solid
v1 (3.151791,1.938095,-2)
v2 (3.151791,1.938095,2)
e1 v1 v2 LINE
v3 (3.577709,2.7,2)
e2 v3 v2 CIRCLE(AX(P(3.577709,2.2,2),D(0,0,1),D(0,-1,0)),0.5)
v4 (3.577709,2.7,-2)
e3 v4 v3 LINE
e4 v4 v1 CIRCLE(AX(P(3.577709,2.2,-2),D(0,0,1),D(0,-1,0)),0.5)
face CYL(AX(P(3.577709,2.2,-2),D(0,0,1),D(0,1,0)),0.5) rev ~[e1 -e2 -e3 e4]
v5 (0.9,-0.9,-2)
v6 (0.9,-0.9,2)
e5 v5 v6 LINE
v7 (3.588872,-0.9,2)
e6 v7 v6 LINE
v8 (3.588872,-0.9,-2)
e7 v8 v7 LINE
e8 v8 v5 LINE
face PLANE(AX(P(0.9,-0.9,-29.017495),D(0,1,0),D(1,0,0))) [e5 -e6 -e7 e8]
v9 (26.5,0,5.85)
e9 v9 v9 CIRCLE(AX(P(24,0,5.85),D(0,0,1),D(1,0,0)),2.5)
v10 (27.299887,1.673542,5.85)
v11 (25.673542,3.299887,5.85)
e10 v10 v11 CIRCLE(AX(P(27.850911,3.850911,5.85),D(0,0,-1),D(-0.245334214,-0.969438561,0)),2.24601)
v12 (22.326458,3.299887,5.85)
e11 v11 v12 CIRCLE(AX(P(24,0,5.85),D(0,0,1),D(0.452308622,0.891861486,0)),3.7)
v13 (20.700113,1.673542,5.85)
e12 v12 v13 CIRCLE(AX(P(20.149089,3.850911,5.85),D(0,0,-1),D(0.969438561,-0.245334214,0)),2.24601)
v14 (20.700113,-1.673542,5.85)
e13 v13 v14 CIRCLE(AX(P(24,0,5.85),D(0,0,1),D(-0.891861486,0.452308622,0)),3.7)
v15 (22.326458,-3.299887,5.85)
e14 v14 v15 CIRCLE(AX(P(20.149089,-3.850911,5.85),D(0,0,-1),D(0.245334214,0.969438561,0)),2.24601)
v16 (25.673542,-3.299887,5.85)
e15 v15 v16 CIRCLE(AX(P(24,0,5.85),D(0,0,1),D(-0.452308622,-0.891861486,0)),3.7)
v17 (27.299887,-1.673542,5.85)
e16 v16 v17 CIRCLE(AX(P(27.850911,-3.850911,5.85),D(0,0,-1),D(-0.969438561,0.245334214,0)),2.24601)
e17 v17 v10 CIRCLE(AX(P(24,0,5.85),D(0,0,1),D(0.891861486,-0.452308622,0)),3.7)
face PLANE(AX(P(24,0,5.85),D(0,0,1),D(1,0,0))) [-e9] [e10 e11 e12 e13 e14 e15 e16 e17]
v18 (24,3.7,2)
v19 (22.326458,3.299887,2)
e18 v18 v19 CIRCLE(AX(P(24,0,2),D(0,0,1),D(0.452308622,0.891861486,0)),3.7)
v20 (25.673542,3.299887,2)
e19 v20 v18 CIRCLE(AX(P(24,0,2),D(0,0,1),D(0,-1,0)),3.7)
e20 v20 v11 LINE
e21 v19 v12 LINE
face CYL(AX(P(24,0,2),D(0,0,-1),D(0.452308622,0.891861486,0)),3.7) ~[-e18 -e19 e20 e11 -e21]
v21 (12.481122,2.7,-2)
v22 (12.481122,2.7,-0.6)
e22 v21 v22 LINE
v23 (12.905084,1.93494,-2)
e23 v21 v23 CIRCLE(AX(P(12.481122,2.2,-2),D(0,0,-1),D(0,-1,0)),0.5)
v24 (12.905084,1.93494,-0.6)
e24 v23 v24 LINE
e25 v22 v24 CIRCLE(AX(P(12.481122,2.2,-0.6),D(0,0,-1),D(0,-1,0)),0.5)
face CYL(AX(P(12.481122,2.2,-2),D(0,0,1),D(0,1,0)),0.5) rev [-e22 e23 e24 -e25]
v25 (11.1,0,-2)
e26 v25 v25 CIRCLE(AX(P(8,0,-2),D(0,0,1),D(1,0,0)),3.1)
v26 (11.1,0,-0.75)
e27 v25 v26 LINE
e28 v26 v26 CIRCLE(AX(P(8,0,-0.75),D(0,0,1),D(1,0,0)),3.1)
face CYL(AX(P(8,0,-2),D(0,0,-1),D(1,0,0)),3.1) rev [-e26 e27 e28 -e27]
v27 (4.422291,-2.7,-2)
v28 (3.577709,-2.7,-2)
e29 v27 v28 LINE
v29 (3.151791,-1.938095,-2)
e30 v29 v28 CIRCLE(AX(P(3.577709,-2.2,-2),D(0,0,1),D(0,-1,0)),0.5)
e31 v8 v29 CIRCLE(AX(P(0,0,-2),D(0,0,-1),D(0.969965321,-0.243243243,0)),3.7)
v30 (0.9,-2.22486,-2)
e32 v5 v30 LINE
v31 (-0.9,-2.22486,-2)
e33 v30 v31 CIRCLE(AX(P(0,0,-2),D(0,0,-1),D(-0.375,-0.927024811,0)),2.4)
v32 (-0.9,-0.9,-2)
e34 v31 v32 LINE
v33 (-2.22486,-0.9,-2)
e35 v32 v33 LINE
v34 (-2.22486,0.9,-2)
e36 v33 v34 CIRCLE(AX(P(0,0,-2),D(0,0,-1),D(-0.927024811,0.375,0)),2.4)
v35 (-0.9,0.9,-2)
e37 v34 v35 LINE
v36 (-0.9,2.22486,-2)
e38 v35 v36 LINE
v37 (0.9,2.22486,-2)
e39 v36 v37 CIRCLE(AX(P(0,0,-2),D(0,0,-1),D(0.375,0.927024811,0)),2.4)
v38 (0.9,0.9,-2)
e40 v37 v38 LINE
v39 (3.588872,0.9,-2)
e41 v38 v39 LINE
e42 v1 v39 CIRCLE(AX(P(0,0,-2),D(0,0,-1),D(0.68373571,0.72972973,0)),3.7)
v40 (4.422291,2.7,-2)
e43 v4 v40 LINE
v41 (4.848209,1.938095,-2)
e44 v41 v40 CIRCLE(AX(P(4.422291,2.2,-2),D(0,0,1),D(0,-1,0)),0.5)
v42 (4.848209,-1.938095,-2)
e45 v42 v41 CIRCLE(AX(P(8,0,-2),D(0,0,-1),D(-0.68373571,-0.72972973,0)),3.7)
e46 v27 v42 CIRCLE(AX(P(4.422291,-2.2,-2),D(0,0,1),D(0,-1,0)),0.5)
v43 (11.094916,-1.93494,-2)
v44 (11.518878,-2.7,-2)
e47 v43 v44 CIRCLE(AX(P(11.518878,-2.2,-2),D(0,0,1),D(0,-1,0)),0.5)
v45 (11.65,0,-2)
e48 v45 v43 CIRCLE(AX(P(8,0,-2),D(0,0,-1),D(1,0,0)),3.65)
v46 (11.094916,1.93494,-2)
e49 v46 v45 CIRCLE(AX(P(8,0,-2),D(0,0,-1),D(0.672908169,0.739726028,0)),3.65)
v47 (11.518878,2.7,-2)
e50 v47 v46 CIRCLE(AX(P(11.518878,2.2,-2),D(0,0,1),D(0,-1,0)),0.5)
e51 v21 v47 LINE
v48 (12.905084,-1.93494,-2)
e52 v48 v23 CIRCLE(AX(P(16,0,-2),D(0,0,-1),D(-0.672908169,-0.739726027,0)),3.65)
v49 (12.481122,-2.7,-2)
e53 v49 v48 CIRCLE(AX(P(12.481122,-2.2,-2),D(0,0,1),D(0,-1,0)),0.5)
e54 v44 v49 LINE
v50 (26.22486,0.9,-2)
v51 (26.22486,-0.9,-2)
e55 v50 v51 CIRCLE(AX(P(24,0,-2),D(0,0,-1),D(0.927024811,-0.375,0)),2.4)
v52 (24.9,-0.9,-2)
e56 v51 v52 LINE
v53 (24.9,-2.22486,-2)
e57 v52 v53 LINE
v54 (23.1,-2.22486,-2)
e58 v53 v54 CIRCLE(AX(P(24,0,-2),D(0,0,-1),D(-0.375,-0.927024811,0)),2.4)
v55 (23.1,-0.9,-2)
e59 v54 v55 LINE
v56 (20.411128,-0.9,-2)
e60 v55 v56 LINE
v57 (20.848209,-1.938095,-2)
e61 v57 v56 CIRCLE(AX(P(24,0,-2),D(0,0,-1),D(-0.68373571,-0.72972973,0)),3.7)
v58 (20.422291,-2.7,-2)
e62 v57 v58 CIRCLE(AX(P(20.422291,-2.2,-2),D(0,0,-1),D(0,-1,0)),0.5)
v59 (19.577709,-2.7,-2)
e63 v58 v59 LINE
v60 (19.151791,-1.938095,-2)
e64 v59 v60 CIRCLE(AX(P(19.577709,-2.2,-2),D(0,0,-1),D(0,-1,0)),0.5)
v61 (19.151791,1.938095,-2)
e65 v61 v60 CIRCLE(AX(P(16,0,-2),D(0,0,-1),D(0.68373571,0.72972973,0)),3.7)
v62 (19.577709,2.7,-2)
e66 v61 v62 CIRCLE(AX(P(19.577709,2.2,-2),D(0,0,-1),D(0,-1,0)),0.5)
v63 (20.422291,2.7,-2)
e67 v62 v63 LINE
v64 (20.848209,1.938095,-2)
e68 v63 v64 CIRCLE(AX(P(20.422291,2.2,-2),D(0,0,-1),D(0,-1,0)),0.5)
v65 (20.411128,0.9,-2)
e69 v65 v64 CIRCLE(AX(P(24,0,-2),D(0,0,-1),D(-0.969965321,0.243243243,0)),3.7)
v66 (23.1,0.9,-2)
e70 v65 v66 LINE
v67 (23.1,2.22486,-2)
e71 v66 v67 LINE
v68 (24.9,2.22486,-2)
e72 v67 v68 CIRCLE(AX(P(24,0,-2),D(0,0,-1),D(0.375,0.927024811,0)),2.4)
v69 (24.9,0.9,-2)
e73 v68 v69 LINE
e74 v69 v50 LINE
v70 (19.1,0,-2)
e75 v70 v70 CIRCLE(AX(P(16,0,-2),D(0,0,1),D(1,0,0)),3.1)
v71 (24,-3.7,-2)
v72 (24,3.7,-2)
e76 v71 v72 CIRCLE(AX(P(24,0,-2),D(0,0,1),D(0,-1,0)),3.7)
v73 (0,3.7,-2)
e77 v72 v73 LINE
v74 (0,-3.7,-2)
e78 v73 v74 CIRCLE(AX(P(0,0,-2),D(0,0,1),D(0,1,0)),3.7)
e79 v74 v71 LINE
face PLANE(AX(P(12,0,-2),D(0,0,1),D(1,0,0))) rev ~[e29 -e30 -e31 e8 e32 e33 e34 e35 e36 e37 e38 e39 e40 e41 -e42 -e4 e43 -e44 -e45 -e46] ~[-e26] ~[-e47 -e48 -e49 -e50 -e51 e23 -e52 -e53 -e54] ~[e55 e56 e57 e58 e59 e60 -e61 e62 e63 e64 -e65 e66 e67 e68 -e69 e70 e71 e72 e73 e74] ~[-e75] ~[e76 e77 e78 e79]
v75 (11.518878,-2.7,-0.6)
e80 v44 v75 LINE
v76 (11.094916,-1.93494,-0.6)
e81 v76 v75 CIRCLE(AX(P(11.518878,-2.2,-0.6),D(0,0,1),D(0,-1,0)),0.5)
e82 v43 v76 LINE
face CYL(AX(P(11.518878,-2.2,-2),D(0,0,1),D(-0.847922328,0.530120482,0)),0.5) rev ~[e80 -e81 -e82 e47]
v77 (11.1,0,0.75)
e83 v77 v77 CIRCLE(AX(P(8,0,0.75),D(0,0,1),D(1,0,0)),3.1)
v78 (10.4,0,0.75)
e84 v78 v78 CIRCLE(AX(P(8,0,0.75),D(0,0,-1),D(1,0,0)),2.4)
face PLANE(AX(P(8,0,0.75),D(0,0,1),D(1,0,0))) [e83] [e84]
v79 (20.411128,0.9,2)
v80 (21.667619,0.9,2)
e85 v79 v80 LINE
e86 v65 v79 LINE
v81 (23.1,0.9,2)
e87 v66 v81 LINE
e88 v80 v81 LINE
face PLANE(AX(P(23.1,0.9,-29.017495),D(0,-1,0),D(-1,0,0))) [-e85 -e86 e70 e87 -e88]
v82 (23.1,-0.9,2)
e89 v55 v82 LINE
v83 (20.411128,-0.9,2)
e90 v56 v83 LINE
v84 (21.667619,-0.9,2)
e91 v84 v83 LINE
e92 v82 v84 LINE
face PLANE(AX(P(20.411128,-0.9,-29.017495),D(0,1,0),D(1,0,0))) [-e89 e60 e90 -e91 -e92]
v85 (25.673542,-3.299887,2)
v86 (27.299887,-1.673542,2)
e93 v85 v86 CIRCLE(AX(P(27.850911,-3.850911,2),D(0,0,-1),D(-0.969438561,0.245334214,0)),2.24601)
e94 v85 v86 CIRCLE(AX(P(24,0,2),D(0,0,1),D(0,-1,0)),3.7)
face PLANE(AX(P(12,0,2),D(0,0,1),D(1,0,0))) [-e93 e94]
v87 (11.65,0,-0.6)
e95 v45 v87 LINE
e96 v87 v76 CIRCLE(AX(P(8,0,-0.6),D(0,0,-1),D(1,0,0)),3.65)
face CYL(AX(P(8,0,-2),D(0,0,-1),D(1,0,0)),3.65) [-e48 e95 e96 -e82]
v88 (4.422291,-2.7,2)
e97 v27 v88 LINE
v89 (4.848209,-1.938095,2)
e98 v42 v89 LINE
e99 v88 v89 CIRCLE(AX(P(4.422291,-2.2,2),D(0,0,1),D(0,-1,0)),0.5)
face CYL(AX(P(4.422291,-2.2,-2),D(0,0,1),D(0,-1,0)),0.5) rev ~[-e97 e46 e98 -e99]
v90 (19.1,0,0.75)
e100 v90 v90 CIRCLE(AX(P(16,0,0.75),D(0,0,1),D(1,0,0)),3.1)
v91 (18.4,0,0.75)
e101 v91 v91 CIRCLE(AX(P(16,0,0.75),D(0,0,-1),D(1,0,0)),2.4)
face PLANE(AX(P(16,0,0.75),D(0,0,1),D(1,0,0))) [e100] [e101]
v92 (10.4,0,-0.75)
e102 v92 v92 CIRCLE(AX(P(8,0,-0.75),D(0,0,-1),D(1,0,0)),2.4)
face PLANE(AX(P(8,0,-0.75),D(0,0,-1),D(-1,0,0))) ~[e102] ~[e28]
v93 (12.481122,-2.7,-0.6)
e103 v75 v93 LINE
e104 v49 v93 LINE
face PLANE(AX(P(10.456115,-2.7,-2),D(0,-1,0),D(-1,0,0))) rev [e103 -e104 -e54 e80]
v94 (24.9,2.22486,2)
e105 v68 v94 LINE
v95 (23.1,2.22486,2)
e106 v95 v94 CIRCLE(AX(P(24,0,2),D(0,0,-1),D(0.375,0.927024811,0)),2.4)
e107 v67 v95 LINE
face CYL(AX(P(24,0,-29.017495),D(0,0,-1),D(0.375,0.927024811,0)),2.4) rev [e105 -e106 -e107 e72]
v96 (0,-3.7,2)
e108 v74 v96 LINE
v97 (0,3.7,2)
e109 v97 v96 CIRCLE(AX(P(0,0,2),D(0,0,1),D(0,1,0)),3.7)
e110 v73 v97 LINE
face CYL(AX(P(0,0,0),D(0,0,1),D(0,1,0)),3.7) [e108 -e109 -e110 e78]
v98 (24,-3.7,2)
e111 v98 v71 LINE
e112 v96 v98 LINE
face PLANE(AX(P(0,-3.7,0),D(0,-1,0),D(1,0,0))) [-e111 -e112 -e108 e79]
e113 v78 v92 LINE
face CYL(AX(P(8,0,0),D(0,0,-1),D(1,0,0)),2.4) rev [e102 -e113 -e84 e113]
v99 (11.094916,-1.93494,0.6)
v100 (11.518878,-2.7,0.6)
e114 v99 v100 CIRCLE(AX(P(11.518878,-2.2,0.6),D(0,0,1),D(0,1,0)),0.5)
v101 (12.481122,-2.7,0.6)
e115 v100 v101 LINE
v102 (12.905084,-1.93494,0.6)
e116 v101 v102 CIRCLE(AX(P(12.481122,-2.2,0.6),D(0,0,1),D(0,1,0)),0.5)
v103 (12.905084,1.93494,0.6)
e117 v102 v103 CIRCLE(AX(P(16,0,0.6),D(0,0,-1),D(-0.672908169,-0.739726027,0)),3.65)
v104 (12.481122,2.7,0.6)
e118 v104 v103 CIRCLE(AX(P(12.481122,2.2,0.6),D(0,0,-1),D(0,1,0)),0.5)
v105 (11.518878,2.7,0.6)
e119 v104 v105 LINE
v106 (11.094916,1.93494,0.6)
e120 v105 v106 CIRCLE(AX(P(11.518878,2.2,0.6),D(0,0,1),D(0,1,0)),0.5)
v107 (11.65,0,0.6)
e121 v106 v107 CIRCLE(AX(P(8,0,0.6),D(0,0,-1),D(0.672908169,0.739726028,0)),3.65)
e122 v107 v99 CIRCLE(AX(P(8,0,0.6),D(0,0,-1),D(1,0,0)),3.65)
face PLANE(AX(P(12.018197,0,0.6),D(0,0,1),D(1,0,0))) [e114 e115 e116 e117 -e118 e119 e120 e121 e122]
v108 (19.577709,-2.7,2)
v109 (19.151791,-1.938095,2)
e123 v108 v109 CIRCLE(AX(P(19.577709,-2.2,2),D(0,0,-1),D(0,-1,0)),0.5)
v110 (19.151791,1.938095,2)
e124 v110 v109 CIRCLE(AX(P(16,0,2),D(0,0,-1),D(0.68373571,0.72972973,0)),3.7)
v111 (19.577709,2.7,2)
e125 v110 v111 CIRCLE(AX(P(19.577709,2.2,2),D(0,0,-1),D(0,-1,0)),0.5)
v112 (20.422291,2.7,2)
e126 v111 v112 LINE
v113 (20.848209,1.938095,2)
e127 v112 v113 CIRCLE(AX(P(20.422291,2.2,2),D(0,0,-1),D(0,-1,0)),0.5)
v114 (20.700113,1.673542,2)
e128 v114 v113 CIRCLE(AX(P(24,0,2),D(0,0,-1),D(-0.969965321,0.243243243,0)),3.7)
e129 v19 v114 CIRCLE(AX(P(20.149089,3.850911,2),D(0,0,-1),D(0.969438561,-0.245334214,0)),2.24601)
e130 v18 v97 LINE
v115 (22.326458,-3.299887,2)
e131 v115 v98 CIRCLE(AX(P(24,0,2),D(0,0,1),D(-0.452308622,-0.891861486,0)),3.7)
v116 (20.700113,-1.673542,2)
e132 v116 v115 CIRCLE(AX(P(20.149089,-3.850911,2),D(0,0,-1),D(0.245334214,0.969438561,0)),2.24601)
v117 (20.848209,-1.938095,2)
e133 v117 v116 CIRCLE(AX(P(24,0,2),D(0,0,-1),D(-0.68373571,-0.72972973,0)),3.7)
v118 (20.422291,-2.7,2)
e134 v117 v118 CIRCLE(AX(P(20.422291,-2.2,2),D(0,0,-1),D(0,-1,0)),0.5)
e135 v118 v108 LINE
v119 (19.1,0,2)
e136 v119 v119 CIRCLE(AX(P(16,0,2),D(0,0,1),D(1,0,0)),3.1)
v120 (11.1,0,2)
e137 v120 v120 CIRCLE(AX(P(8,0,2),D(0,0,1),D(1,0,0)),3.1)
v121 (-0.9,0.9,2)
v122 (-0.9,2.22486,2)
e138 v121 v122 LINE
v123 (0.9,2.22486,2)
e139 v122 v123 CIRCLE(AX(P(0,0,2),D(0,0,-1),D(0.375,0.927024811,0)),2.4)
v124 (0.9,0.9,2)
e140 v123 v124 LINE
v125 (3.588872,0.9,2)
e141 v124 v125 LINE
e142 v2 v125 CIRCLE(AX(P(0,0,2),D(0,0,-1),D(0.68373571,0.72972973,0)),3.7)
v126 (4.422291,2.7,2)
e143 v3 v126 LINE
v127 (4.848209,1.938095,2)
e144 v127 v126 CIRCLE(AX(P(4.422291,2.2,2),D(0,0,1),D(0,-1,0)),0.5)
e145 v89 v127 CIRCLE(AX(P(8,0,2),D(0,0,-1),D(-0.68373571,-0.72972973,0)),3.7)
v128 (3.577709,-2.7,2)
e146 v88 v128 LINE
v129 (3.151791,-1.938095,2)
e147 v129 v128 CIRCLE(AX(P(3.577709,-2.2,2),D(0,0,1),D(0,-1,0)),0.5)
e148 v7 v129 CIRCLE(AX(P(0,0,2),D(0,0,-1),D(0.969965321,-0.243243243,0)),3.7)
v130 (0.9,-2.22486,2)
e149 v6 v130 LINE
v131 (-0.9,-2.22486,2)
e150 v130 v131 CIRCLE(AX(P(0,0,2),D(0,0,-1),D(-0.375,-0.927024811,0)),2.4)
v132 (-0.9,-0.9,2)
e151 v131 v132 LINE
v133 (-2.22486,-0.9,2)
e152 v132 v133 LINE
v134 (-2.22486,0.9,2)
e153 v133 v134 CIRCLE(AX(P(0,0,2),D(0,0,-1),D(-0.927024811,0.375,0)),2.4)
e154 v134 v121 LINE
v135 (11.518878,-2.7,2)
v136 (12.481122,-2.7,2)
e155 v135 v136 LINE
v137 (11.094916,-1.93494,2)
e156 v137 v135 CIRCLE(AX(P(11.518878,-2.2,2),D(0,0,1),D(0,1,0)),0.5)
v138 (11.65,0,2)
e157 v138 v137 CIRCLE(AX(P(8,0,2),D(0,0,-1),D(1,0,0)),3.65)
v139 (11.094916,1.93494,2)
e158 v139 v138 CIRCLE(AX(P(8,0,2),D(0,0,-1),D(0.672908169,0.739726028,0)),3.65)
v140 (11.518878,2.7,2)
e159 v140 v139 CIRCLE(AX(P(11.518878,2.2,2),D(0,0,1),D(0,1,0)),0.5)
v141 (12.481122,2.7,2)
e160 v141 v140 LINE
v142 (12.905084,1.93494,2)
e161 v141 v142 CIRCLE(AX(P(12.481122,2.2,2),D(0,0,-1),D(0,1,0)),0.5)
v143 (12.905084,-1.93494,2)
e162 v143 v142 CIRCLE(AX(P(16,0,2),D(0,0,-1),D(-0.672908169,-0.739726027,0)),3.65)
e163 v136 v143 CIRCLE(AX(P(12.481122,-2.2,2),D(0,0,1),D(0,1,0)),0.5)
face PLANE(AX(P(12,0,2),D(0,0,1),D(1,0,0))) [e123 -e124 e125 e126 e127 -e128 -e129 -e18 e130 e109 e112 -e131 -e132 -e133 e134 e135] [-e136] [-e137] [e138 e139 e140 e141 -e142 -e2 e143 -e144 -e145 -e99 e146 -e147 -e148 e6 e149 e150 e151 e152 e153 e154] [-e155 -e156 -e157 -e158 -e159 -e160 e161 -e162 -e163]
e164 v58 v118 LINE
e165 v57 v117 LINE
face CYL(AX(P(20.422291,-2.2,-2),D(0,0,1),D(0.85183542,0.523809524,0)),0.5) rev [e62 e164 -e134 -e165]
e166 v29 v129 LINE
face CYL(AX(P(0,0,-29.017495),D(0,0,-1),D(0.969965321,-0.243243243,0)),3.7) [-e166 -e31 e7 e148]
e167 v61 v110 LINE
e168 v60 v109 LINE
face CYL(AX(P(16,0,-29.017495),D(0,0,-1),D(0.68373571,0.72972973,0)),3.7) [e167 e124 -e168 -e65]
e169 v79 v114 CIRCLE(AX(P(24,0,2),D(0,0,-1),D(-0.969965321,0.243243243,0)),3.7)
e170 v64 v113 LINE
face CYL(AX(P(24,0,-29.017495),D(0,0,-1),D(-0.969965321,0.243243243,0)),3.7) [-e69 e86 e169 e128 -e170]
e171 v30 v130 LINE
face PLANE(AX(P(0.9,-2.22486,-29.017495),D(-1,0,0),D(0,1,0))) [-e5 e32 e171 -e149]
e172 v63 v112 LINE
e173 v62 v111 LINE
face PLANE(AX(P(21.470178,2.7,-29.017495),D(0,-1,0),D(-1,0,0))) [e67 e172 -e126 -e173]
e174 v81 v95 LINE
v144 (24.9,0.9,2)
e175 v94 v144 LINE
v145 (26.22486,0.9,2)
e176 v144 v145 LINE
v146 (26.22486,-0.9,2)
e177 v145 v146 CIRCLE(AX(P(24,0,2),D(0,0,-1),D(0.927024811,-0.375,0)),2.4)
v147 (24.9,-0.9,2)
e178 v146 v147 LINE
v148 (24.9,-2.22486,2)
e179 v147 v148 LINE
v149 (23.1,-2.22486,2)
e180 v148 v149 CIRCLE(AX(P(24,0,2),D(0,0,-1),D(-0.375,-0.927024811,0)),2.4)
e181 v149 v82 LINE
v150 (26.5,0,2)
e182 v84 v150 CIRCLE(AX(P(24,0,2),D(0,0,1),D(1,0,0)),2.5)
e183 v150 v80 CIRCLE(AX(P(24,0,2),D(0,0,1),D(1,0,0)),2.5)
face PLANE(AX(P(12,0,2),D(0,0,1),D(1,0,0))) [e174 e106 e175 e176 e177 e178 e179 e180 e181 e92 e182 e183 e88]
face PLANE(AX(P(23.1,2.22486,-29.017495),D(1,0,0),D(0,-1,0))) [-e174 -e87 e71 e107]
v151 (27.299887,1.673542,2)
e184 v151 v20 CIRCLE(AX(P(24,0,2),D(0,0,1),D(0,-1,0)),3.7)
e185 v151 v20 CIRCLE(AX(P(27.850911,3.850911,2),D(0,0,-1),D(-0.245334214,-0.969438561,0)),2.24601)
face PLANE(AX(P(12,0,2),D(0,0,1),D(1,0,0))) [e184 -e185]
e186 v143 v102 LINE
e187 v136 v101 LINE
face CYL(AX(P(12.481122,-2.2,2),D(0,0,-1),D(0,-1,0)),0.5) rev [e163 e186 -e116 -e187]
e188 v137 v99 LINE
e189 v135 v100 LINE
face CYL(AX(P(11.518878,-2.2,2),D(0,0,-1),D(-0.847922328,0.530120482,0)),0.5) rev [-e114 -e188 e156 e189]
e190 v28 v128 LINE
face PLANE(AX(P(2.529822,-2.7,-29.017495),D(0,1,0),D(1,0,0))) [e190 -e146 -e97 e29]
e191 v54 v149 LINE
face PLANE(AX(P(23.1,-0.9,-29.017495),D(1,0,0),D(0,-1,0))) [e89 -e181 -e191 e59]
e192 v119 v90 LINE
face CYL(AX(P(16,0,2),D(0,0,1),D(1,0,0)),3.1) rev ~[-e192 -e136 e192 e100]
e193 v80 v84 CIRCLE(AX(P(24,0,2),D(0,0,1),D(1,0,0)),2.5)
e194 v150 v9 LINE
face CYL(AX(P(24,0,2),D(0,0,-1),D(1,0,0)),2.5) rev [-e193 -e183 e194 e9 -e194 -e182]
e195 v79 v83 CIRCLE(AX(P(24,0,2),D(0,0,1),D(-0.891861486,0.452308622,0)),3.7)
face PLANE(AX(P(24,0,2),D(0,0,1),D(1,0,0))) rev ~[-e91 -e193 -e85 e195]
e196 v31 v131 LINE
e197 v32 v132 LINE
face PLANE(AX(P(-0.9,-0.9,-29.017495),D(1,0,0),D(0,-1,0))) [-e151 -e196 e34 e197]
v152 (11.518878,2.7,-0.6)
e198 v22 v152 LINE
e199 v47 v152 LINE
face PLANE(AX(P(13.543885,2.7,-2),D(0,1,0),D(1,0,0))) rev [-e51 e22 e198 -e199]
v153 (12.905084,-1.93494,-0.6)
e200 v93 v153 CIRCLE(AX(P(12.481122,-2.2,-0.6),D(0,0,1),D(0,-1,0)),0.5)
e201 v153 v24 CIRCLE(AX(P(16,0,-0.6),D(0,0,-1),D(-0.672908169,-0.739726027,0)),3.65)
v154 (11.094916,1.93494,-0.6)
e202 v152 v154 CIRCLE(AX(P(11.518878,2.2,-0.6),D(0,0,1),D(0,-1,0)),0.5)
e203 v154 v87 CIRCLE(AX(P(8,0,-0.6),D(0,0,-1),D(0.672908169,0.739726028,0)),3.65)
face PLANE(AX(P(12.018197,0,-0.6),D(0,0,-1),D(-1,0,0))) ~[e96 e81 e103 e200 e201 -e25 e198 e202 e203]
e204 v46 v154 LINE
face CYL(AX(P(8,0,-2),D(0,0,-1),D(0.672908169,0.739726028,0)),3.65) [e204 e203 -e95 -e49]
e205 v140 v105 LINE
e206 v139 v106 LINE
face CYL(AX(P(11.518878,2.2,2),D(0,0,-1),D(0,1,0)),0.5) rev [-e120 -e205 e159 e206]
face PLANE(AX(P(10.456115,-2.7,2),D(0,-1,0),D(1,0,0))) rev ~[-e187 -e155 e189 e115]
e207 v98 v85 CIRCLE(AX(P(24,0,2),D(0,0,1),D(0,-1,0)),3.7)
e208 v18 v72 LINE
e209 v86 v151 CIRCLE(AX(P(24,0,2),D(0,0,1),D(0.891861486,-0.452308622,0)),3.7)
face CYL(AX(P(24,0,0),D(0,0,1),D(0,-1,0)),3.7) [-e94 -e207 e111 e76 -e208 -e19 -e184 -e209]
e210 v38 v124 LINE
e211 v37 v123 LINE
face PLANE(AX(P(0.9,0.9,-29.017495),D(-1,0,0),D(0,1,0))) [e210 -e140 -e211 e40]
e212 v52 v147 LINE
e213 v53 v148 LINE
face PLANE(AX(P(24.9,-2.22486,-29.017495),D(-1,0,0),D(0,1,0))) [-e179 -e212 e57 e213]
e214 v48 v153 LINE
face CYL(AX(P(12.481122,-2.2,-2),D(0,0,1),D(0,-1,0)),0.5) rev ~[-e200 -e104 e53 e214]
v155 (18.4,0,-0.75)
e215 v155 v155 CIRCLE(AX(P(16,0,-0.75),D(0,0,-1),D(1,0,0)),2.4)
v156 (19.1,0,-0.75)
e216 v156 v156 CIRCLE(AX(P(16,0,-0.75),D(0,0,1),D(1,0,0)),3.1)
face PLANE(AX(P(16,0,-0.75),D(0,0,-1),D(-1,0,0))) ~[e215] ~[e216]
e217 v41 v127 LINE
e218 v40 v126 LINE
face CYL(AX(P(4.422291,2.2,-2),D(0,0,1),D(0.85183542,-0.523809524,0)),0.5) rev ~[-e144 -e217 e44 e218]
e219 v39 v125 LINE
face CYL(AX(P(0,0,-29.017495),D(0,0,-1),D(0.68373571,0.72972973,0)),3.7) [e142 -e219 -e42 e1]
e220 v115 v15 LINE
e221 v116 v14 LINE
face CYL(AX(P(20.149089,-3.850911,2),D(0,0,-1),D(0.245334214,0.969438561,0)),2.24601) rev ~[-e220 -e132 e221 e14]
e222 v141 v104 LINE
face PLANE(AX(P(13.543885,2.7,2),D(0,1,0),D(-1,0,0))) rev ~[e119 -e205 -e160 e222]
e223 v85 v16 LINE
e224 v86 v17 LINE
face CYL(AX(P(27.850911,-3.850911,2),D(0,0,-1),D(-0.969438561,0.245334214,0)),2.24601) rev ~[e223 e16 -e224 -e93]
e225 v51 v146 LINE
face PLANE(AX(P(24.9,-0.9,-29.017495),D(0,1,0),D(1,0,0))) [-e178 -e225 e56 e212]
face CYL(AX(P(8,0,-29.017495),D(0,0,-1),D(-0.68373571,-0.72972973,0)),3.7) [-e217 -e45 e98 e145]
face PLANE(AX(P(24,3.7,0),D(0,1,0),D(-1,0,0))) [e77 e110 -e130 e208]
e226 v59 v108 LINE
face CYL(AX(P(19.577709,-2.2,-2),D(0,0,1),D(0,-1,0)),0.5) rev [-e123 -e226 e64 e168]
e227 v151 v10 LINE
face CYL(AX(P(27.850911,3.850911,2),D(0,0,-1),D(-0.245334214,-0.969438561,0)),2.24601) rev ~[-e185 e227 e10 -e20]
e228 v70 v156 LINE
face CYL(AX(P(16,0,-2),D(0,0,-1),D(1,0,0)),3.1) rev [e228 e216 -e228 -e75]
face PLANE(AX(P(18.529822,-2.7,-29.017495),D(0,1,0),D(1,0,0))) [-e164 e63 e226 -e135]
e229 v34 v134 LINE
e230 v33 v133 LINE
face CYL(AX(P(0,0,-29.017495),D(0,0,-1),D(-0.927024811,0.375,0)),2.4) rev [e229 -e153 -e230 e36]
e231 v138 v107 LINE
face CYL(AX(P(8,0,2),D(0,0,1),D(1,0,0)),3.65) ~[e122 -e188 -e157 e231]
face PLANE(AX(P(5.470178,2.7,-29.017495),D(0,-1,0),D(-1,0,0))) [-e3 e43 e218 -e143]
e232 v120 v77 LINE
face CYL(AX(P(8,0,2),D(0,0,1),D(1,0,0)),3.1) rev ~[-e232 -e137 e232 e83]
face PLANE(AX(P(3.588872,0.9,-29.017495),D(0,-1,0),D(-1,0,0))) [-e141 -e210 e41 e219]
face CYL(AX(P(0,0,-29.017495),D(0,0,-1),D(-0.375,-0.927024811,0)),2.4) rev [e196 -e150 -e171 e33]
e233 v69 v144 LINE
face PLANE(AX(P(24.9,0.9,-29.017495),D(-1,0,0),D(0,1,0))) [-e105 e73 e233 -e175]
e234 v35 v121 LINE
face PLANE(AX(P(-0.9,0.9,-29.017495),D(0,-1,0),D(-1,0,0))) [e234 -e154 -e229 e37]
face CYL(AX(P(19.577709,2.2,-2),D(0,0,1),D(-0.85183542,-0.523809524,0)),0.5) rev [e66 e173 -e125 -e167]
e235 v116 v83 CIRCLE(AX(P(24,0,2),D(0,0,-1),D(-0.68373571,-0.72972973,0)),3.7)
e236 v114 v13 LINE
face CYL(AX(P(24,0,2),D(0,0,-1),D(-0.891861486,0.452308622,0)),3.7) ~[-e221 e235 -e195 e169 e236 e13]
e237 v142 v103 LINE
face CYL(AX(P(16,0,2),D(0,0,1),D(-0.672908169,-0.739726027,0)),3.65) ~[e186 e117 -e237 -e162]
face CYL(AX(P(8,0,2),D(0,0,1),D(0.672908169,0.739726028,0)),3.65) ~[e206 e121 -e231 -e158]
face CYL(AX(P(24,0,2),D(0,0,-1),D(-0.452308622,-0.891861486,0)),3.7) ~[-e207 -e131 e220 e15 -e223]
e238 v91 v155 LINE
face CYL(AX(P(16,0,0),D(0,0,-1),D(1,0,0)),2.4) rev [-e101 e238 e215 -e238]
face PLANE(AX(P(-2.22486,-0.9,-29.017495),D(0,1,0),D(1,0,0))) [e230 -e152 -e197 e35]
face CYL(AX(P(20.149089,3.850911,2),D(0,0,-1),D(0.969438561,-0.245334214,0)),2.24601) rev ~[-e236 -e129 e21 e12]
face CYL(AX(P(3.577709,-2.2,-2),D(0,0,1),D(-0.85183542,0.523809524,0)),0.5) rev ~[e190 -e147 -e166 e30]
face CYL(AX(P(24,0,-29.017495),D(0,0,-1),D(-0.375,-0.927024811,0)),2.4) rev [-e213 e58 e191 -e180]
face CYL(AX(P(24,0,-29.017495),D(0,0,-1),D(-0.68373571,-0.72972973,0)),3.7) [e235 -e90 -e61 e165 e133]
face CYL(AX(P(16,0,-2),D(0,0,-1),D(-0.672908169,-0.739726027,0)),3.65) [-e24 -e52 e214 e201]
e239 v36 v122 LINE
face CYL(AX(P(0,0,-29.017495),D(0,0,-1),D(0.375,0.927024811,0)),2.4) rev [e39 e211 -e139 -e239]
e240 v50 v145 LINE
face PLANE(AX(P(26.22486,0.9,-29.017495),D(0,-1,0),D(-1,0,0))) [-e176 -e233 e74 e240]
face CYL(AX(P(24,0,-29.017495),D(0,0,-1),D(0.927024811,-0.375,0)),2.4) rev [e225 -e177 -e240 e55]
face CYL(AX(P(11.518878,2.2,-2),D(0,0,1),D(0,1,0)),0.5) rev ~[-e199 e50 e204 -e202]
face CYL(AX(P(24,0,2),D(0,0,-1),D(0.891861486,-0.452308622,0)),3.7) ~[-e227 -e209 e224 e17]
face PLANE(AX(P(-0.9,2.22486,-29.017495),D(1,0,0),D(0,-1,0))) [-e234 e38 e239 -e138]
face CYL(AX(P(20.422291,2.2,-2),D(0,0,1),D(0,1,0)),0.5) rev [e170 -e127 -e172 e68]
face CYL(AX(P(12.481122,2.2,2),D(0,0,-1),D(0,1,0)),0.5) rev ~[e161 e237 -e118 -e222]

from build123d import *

# Parameters (mm, degrees)
SKETCH1_R            = 2.4
BEAM_DEPTH           = 2
AXLE_CUT_DEPTH       = 29.017494535
AXLE_CUT_DEPTH_BACK  = 29.017494535
SKETCH3_R            = 3.1
HOLE_SURROUND_DEPTH  = 1.25
CAVITY_CUT_DEPTH     = 1.4
FILLET2_R            = 0.5
FILLET2_OF_MIRROR2_R = 0.5
FILLET3_R            = 0.5
SKETCH5_R            = 2.5
EXTENSION_DEPTH      = 3.85


with BuildPart() as part:
    # Sketch1 → Beam (new, symmetric)
    with BuildSketch(Plane.XY):
        with BuildLine():
            Line((24, 3.7), (0, 3.7))
            ThreePointArc((0, 3.7), (-3.7, 0), (0, -3.7))
            Line((0, -3.7), (24, -3.7))
            ThreePointArc((24, -3.7), (27.7, 0), (24, 3.7))
        make_face()
        with Locations((8, 0)):
            Circle(SKETCH1_R, mode=Mode.SUBTRACT)
        with Locations((16, 0)):
            Circle(SKETCH1_R, mode=Mode.SUBTRACT)
    extrude(amount=BEAM_DEPTH, both=True)

    # Sketch2 → Axle Cut (cut, two sides: drawn at the far end of the back side and taken through both)
    with BuildSketch(Plane.XY.offset(-AXLE_CUT_DEPTH_BACK)):
        with BuildLine():
            ThreePointArc((-0.9, -2.224859546), (0, -2.4), (0.9, -2.224859546))
            Line((0.9, -2.224859546), (0.9, -0.9))
            Line((0.9, -0.9), (3.588871689, -0.9))
            ThreePointArc((3.588871689, -0.9), (3.188981578, -1.876271967), (2.529822128, -2.7))
            Line((2.529822128, -2.7), (5.470177872, -2.7))
            ThreePointArc((5.470177872, -2.7), (4.3, 0), (5.470177872, 2.7))
            Line((5.470177872, 2.7), (2.529822128, 2.7))
            ThreePointArc((2.529822128, 2.7), (3.188981578, 1.876271967), (3.588871689, 0.9))
            Line((3.588871689, 0.9), (0.9, 0.9))
            Line((0.9, 0.9), (0.9, 2.224859546))
            ThreePointArc((0.9, 2.224859546), (0, 2.4), (-0.9, 2.224859546))
            Line((-0.9, 2.224859546), (-0.9, 0.9))
            Line((-0.9, 0.9), (-2.224859546, 0.9))
            ThreePointArc((-2.224859546, 0.9), (-2.4, 0), (-2.224859546, -0.9))
            Line((-2.224859546, -0.9), (-0.9, -0.9))
            Line((-0.9, -0.9), (-0.9, -2.224859546))
        make_face()
        with BuildLine():
            Line((18.529822128, -2.7), (21.470177872, -2.7))
            ThreePointArc((21.470177872, -2.7), (20.811018422, -1.876271967), (20.411128311, -0.9))
            Line((20.411128311, -0.9), (23.1, -0.9))
            Line((23.1, -0.9), (23.1, -2.224859546))
            ThreePointArc((23.1, -2.224859546), (24, -2.4), (24.9, -2.224859546))
            Line((24.9, -2.224859546), (24.9, -0.9))
            Line((24.9, -0.9), (26.224859546, -0.9))
            ThreePointArc((26.224859546, -0.9), (26.4, 0), (26.224859546, 0.9))
            Line((26.224859546, 0.9), (24.9, 0.9))
            Line((24.9, 0.9), (24.9, 2.224859546))
            ThreePointArc((24.9, 2.224859546), (24, 2.4), (23.1, 2.224859546))
            Line((23.1, 2.224859546), (23.1, 0.9))
            Line((23.1, 0.9), (20.411128311, 0.9))
            ThreePointArc((20.411128311, 0.9), (20.811018422, 1.876271967), (21.470177872, 2.7))
            Line((21.470177872, 2.7), (18.529822128, 2.7))
            ThreePointArc((18.529822128, 2.7), (19.7, 0), (18.529822128, -2.7))
        make_face()
    extrude(amount=AXLE_CUT_DEPTH + AXLE_CUT_DEPTH_BACK, mode=Mode.SUBTRACT)

    # Sketch3 → Hole Surround (cut)
    with BuildSketch(Plane.XY.offset(2)):
        with Locations((16, 0)):
            Circle(SKETCH3_R)
        with Locations((8, 0)):
            Circle(SKETCH3_R)
    hole_surround = extrude(amount=-HOLE_SURROUND_DEPTH, mode=Mode.SUBTRACT)

    # Sketch4 → Cavity Cut (cut)
    with BuildSketch(Plane.XY.offset(2)):
        with BuildLine():
            Line((13.543885182, 2.7), (10.456114818, 2.7))
            ThreePointArc((10.456114818, 2.7), (11.338212028, 1.476089583), (11.65, 0))
            ThreePointArc((11.65, 0), (11.338212028, -1.476089583), (10.456114818, -2.7))
            Line((10.456114818, -2.7), (13.543885182, -2.7))
            ThreePointArc((13.543885182, -2.7), (12.35, 0), (13.543885182, 2.7))
        make_face()
    cavity_cut = extrude(amount=-CAVITY_CUT_DEPTH, mode=Mode.SUBTRACT)

    # Fillet2
    fillet2_edges = [part.edges().sort_by_distance(p)[0] for p in [
        (13.543885182, 2.7, 1.3),
        (13.543885182, -2.7, 1.3),
        (10.456114818, 2.7, 1.3),
        (10.456114818, -2.7, 1.3),
    ]]
    fillet(fillet2_edges, radius=FILLET2_R)

    # Mirror2: Hole Surround, Cavity Cut across plane
    add(hole_surround.mirror(Plane.XY), mode=Mode.SUBTRACT)
    add(cavity_cut.mirror(Plane.XY), mode=Mode.SUBTRACT)

    # Fillet2 of Mirror2
    fillet2_of_mirror2_edges = [part.edges().sort_by_distance(p)[0] for p in [
        (13.543885182, 2.7, -1.3),
        (13.543885182, -2.7, -1.3),
        (10.456114818, 2.7, -1.3),
        (10.456114818, -2.7, -1.3),
    ]]
    fillet(fillet2_of_mirror2_edges, radius=FILLET2_OF_MIRROR2_R)

    # Fillet3
    fillet3_edges = [part.edges().sort_by_distance(p)[0] for p in [
        (2.529822128, -2.7, 0),
        (5.470177872, -2.7, 0),
        (5.470177872, 2.7, 0),
        (2.529822128, 2.7, 0),
        (21.470177872, 2.7, 0),
        (21.470177872, -2.7, 0),
        (18.529822128, -2.7, 0),
        (18.529822128, 2.7, 0),
    ]]
    fillet(fillet3_edges, radius=FILLET3_R)

    # Sketch5 → Extension (add)
    with BuildSketch(Plane.XY.offset(2)):
        with BuildLine():
            ThreePointArc((27.299887499, -1.673541902), (27.7, 0), (27.299887499, 1.673541902))
            ThreePointArc((27.299887499, 1.673541902), (26.2627417, 2.2627417), (25.673541902, 3.299887499))
            ThreePointArc((25.673541902, 3.299887499), (24, 3.7), (22.326458098, 3.299887499))
            ThreePointArc((22.326458098, 3.299887499), (21.7372583, 2.2627417), (20.700112501, 1.673541902))
            ThreePointArc((20.700112501, 1.673541902), (20.3, 0), (20.700112501, -1.673541902))
            ThreePointArc((20.700112501, -1.673541902), (21.7372583, -2.2627417), (22.326458098, -3.299887499))
            ThreePointArc((22.326458098, -3.299887499), (24, -3.7), (25.673541902, -3.299887499))
            ThreePointArc((25.673541902, -3.299887499), (26.2627417, -2.2627417), (27.299887499, -1.673541902))
        make_face()
        with Locations((24, 0)):
            Circle(SKETCH5_R, mode=Mode.SUBTRACT)
    extrude(amount=EXTENSION_DEPTH)


solid = part.part
